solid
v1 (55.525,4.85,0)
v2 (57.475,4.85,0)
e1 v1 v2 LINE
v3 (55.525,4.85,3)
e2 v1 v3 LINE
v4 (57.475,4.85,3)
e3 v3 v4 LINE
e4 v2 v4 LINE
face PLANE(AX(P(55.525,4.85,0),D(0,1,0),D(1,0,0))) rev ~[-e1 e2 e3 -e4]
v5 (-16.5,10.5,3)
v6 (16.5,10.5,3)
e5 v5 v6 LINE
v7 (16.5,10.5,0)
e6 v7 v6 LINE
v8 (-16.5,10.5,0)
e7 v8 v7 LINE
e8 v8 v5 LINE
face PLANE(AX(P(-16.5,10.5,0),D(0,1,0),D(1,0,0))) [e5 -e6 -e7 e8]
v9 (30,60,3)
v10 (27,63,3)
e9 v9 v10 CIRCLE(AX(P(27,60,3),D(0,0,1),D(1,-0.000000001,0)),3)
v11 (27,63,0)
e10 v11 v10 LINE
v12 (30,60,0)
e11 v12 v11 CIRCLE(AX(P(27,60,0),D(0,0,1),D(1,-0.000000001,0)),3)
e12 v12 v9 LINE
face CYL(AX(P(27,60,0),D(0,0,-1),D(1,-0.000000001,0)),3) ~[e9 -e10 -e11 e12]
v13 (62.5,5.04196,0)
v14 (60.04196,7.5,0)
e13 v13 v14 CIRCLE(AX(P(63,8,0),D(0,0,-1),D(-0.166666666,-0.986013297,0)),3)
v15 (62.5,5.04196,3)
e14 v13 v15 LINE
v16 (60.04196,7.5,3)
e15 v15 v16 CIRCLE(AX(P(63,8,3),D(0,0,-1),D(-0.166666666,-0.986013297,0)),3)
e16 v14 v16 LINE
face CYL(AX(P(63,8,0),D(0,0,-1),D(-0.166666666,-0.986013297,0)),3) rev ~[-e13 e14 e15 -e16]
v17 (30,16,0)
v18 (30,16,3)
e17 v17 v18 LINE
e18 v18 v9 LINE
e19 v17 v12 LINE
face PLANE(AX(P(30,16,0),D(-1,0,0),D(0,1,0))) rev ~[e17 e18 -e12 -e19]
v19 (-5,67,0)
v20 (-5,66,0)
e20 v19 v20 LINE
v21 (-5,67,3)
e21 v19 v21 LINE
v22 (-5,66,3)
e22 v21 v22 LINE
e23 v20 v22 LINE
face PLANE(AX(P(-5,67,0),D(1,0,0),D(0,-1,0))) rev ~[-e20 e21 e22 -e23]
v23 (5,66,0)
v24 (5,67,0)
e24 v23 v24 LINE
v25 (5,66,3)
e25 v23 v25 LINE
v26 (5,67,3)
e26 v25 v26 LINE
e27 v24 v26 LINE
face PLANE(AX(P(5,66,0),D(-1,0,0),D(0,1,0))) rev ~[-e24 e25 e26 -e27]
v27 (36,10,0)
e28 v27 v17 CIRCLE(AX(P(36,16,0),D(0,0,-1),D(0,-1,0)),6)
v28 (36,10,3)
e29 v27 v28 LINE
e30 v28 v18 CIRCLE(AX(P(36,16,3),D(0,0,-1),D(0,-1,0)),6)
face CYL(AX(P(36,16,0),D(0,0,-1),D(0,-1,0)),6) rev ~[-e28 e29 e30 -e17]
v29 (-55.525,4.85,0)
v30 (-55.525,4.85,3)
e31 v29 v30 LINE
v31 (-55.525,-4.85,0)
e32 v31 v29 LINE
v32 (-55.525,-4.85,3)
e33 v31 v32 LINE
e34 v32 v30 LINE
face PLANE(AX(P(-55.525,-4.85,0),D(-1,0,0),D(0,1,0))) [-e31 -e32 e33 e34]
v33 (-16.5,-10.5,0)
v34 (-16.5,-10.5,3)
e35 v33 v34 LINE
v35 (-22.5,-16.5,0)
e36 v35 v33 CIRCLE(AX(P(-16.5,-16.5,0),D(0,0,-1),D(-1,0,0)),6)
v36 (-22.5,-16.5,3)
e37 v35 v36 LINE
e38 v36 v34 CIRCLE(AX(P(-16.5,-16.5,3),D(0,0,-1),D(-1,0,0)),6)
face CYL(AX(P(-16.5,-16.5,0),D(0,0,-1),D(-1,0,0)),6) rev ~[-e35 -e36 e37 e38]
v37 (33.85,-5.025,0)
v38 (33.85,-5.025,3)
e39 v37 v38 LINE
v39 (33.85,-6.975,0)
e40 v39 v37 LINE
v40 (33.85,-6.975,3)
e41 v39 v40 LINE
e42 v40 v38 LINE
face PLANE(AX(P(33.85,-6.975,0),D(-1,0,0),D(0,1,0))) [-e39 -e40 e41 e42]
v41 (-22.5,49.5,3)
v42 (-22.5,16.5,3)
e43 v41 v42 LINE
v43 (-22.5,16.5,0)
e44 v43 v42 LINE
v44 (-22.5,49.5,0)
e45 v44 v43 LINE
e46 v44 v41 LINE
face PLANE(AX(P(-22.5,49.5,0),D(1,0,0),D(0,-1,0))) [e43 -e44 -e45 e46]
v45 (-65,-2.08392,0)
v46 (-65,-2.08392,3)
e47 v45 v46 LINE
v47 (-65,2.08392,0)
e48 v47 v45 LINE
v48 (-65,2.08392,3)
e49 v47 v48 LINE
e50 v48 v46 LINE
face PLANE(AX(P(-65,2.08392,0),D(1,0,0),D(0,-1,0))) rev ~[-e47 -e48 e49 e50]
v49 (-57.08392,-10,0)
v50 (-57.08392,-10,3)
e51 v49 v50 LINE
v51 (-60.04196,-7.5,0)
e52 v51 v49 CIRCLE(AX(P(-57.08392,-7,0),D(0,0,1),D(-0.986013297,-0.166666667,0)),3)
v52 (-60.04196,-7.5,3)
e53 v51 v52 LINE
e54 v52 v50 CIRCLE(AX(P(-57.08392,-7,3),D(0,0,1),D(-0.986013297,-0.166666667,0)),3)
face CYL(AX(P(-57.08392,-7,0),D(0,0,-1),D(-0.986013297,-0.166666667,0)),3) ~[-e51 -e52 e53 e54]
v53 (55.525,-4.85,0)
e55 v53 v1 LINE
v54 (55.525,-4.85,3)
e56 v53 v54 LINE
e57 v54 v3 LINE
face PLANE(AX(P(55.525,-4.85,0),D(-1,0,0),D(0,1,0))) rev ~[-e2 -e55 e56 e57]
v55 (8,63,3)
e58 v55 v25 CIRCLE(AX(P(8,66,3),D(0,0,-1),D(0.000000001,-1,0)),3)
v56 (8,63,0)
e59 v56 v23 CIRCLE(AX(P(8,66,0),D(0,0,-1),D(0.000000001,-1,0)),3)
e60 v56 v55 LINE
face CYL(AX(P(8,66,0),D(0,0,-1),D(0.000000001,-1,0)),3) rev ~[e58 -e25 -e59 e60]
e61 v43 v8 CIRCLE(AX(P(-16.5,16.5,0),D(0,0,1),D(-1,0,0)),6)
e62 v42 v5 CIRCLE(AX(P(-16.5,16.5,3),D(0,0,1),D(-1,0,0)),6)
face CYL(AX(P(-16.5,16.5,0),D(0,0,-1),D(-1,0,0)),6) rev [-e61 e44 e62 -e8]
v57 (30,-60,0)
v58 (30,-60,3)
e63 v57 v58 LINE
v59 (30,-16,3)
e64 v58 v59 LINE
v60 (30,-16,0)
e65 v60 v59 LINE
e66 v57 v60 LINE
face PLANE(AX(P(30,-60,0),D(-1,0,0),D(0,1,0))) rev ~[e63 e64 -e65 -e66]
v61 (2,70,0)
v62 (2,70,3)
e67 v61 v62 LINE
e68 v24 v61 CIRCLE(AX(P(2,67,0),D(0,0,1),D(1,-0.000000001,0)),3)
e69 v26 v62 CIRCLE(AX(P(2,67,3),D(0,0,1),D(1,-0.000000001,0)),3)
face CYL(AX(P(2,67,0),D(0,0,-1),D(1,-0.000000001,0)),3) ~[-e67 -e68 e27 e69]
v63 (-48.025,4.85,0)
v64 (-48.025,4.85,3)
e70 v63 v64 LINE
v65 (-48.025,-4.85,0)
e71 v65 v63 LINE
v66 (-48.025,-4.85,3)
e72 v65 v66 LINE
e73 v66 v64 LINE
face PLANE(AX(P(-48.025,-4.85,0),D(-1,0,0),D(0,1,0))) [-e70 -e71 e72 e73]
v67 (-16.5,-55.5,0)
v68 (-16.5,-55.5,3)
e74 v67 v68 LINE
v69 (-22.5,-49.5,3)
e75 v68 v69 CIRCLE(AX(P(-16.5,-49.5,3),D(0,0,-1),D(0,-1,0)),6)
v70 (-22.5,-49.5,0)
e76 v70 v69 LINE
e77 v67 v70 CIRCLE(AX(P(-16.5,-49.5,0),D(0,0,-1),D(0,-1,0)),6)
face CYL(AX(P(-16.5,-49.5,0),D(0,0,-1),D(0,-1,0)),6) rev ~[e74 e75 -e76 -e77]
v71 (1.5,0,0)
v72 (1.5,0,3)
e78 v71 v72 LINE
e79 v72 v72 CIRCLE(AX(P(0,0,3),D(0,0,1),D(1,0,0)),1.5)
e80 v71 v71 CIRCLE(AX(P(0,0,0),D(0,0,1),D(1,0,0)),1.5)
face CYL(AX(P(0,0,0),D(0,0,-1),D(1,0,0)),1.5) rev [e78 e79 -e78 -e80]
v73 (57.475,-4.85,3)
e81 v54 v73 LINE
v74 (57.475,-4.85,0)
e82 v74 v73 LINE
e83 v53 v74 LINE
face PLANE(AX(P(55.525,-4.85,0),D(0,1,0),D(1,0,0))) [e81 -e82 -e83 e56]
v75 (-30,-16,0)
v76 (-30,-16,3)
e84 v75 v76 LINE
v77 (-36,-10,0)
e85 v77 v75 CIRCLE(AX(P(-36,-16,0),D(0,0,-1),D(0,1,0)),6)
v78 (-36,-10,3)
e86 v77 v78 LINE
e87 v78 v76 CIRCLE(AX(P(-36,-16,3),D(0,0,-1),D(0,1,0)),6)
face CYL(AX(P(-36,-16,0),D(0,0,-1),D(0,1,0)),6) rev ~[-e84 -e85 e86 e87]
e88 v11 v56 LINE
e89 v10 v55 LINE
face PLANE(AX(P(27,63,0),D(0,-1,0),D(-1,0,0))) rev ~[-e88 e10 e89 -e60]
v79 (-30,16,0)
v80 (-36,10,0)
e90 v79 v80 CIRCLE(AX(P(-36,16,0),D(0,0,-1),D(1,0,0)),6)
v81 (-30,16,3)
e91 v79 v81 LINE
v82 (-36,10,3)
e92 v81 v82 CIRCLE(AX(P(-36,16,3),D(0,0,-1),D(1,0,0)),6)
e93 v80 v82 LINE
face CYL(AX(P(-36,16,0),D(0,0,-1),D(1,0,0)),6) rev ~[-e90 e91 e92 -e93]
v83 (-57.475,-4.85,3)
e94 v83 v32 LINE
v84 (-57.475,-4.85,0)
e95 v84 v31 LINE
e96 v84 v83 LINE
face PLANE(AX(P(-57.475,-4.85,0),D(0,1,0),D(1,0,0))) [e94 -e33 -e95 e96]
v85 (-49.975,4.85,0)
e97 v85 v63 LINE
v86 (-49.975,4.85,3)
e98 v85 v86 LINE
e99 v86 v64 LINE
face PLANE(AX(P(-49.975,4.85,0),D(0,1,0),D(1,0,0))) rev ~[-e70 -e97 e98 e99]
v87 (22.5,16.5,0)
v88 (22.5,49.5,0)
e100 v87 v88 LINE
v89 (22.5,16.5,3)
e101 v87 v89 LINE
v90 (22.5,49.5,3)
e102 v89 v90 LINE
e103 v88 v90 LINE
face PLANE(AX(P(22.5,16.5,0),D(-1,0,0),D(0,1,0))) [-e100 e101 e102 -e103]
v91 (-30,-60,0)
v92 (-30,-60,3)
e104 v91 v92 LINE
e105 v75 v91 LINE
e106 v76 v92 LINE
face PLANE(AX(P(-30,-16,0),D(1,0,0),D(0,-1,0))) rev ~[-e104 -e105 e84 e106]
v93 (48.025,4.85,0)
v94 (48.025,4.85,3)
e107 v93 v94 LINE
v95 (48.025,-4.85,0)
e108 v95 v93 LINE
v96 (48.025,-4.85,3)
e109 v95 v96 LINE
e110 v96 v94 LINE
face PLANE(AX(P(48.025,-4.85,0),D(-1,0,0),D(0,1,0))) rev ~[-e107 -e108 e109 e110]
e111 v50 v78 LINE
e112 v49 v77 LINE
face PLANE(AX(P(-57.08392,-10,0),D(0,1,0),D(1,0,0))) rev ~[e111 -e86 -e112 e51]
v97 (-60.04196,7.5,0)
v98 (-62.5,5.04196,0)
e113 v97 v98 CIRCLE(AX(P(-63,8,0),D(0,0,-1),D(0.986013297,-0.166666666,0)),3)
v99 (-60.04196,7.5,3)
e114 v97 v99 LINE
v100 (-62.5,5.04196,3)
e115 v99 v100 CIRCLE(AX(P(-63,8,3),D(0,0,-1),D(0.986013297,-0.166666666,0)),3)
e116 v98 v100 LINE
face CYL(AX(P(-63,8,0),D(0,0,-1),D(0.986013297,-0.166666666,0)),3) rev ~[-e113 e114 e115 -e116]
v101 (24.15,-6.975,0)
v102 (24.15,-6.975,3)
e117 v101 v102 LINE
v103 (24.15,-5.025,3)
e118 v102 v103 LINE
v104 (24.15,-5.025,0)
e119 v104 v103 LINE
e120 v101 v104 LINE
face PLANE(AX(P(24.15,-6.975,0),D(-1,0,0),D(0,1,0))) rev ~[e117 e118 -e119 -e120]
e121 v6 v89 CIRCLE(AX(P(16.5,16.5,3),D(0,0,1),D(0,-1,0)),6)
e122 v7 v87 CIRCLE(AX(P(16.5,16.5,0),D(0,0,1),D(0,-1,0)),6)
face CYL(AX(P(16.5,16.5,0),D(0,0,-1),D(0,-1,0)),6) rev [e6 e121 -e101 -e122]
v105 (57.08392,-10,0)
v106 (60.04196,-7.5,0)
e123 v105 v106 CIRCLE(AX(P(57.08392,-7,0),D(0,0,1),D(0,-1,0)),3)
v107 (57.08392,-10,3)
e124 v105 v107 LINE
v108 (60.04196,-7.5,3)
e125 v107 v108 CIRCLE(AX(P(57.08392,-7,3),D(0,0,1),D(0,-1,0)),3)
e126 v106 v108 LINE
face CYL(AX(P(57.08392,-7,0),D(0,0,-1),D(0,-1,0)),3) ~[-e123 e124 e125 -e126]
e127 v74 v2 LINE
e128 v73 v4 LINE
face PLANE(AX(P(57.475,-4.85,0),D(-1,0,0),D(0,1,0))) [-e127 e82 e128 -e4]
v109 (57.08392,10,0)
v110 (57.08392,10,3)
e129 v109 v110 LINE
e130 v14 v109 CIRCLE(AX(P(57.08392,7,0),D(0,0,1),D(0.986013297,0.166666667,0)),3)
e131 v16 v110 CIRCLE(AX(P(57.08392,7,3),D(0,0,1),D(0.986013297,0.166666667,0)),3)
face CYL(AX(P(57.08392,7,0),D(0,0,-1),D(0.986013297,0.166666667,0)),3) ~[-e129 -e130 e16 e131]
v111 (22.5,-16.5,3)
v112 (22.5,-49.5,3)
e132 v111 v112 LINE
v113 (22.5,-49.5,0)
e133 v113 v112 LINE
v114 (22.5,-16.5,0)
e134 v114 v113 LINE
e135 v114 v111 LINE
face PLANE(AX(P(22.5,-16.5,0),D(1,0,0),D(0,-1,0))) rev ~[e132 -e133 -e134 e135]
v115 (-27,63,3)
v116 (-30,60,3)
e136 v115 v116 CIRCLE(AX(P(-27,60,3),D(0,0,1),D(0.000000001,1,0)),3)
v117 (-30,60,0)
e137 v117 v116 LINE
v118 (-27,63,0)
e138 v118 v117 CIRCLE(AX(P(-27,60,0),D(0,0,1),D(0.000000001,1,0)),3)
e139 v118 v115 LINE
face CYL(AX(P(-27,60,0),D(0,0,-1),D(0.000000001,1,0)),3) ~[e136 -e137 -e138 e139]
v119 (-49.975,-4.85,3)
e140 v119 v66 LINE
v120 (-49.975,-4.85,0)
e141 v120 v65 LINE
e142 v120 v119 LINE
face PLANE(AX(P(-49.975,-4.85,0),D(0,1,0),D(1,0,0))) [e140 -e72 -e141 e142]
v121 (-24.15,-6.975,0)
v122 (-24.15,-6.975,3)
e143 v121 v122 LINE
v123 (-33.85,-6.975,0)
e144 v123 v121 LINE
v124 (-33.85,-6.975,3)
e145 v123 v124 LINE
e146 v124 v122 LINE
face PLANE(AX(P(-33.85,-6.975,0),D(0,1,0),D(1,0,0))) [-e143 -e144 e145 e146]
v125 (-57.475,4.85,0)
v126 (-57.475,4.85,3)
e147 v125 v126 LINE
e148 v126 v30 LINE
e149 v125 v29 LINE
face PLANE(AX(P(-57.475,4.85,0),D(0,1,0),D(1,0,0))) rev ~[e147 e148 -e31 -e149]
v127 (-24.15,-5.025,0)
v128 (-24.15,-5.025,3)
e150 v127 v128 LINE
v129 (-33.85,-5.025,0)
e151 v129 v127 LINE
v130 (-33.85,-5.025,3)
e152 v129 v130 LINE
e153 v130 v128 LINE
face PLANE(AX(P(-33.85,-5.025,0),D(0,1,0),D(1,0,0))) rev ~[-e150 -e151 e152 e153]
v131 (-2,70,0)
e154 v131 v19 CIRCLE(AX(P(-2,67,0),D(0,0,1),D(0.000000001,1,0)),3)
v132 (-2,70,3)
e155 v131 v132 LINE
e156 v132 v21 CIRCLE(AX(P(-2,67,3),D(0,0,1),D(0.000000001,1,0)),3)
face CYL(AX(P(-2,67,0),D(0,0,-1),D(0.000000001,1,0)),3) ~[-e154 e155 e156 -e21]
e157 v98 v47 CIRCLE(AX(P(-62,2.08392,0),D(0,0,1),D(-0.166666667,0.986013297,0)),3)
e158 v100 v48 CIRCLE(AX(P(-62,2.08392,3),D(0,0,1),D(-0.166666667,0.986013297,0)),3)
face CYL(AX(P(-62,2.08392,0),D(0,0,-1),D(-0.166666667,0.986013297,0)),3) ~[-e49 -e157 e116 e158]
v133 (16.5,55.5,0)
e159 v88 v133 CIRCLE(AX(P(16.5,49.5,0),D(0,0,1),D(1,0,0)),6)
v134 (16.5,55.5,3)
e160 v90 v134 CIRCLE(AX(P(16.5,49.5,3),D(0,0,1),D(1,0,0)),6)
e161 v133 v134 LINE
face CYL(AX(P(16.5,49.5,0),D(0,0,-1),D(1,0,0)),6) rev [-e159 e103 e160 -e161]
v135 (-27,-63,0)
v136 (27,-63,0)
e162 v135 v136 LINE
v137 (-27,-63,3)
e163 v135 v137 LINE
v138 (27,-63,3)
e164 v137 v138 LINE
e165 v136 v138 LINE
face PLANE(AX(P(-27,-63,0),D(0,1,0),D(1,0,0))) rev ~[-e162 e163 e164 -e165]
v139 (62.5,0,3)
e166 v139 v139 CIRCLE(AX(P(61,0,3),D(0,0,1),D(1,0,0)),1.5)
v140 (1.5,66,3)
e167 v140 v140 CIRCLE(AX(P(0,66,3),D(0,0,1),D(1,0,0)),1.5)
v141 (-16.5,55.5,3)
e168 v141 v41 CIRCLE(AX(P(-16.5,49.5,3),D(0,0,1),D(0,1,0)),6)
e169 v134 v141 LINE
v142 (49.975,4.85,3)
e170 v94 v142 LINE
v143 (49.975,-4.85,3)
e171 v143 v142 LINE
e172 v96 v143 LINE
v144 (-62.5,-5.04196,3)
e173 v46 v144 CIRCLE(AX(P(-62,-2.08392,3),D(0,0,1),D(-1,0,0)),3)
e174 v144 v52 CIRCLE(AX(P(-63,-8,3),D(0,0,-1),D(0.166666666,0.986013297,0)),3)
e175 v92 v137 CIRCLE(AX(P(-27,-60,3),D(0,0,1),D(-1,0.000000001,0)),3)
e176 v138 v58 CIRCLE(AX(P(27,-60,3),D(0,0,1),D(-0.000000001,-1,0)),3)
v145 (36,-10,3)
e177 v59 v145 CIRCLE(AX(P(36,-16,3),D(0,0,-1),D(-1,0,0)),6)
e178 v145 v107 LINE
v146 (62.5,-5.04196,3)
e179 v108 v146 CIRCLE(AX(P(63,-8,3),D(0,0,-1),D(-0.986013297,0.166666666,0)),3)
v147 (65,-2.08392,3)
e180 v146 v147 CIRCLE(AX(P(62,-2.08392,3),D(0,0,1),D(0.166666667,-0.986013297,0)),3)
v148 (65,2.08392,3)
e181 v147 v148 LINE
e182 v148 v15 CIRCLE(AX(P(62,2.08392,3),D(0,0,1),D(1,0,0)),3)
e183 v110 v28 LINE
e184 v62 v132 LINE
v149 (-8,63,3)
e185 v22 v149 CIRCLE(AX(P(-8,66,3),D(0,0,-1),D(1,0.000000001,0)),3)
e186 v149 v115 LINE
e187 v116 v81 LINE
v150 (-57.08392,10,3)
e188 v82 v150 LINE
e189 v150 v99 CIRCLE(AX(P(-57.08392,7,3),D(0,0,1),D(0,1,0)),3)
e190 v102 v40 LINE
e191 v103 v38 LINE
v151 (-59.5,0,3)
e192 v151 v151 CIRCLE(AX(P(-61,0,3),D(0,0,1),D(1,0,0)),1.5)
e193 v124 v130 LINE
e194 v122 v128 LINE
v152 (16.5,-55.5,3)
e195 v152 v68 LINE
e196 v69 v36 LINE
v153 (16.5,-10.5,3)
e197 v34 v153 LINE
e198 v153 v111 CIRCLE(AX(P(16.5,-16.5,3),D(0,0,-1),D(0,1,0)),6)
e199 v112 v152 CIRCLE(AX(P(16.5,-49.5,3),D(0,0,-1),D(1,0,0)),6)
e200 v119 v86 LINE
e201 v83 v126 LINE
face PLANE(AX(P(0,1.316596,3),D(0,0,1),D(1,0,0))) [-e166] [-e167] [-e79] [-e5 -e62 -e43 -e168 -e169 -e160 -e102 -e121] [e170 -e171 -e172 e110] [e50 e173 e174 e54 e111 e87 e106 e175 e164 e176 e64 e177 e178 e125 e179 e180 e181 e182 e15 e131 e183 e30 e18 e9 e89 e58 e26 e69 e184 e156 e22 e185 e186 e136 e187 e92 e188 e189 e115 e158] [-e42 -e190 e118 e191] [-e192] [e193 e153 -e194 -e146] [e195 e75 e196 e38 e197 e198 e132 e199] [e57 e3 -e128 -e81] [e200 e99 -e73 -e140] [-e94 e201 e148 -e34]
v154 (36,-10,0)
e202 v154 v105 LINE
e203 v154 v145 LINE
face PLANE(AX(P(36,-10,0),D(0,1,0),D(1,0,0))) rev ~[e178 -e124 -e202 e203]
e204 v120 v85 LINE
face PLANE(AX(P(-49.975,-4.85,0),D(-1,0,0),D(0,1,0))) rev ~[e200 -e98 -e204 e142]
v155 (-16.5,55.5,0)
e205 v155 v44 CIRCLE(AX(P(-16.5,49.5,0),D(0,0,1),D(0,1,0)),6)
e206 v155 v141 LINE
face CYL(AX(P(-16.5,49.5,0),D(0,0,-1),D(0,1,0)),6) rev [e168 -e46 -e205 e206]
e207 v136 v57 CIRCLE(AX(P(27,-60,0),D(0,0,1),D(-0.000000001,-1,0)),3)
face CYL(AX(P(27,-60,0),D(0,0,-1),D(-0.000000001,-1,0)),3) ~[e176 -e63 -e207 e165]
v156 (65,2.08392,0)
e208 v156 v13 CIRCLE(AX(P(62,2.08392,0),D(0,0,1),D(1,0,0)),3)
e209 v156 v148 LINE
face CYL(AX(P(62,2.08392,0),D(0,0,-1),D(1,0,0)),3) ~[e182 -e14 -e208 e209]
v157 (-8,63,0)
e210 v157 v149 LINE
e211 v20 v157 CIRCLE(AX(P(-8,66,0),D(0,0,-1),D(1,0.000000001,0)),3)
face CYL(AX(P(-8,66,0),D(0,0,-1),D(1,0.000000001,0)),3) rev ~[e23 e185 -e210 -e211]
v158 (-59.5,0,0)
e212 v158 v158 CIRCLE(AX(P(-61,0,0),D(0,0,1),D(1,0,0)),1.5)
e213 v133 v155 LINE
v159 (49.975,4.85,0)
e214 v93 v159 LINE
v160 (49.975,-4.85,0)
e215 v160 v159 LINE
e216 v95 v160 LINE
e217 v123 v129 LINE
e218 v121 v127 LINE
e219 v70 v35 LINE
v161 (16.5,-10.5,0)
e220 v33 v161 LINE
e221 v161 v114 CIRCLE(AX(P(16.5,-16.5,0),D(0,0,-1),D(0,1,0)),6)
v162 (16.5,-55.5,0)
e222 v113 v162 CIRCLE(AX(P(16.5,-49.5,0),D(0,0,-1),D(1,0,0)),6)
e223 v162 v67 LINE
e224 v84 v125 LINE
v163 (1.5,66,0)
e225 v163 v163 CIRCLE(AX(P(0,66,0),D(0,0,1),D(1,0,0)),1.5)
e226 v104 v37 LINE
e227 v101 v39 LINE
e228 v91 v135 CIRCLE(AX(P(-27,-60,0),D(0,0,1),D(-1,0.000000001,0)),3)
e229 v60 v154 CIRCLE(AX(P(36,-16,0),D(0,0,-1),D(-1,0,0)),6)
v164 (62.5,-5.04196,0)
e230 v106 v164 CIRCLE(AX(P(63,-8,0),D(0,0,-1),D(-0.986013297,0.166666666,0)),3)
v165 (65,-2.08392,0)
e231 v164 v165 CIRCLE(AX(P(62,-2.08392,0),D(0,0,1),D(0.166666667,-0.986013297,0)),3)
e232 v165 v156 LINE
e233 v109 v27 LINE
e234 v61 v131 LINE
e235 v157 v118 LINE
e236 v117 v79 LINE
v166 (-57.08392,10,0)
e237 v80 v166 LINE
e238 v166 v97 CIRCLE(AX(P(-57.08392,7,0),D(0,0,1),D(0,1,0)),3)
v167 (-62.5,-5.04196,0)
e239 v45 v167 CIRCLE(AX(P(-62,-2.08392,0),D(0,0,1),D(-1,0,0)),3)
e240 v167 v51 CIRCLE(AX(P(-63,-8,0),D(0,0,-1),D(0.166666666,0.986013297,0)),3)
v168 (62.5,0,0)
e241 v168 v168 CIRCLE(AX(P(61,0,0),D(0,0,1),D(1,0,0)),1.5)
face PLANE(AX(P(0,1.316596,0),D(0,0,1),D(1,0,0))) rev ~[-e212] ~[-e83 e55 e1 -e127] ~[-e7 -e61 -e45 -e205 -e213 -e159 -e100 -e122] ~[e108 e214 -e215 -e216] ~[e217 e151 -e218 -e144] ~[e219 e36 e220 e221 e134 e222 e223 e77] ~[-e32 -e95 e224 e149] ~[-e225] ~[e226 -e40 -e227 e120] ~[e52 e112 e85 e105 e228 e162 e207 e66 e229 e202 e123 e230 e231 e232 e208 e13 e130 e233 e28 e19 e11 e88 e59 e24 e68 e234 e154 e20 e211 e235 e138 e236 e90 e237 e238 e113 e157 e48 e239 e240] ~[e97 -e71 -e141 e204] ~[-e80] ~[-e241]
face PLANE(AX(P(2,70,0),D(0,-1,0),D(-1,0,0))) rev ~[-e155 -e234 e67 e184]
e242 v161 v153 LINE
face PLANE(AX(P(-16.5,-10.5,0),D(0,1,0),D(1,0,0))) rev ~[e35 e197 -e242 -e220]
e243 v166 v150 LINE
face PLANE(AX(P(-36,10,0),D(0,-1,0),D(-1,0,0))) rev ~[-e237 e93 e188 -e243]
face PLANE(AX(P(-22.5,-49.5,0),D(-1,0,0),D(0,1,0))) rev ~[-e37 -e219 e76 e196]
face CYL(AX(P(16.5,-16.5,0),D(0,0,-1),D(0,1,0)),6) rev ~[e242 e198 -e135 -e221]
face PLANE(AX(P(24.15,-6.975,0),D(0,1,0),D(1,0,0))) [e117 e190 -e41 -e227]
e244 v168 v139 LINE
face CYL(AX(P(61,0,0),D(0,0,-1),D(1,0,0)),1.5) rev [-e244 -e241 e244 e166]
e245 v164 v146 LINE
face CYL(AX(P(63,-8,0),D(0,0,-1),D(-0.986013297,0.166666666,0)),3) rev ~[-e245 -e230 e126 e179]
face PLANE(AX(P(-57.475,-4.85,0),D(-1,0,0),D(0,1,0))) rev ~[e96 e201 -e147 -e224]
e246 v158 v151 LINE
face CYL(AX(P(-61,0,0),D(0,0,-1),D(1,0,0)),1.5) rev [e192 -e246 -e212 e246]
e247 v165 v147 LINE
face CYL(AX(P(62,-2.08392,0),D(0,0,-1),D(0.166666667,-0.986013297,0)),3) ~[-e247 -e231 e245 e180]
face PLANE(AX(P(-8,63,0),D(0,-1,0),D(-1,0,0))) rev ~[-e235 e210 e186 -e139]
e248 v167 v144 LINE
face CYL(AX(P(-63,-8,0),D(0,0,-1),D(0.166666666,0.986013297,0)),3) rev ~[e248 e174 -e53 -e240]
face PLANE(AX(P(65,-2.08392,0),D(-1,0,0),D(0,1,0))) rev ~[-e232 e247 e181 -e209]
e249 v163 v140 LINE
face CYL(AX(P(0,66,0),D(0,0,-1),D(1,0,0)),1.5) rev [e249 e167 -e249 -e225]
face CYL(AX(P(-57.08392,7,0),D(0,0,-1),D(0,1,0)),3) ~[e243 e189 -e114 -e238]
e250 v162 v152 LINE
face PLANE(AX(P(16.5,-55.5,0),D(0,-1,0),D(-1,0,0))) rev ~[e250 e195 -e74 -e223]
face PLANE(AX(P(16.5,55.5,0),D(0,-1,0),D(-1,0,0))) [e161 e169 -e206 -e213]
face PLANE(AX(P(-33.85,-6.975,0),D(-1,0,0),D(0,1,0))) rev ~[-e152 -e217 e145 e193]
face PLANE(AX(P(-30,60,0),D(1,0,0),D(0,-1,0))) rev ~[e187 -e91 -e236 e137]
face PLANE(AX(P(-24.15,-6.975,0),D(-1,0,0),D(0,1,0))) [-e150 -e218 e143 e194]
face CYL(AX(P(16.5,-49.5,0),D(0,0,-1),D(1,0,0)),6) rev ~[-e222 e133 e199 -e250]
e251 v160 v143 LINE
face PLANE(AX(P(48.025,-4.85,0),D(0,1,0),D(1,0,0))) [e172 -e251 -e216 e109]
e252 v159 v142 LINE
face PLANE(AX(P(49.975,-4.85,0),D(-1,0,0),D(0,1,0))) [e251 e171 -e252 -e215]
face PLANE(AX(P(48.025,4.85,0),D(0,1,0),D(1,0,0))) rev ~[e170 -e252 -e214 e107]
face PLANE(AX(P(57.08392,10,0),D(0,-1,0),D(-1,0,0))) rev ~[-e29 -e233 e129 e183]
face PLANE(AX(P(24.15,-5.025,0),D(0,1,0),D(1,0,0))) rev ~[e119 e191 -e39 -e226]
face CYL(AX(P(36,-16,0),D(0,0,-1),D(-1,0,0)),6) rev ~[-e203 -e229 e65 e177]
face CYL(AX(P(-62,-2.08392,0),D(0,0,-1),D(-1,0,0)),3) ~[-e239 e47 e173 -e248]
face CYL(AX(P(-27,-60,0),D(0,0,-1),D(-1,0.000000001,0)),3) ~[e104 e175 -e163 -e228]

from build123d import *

# Parameters (mm, degrees)
MODEL_R         = 1.5
MODEL_W         = 9.700000003
MODEL_H         = 1.95
MODEL_W_2       = 1.95
MODEL_H_2       = 9.700000003
MODEL_H_3       = 9.7
EXTRUDE_1_DEPTH = 3


with BuildPart() as part:
    # Model → Бобышка-Вытянуть1 (new body)
    with BuildSketch(Plane.XY):
        with BuildLine():
            Line((36, -10), (57.083920217, -10))
            ThreePointArc((57.083920217, -10), (59.02041189, -9.291287847), (60.041960108, -7.5))
            ThreePointArc((60.041960108, -7.5), (60.878679656, -5.878679656), (62.5, -5.041960108))
            ThreePointArc((62.5, -5.041960108), (64.291287847, -4.02041189), (65, -2.083920217))
            Line((65, -2.083920217), (65, 2.083920217))
            ThreePointArc((65, 2.083920217), (64.291287847, 4.02041189), (62.5, 5.041960108))
            ThreePointArc((62.5, 5.041960108), (60.878679656, 5.878679656), (60.041960108, 7.5))
            ThreePointArc((60.041960108, 7.5), (59.02041189, 9.291287847), (57.083920217, 10))
            Line((57.083920217, 10), (36, 10))
            ThreePointArc((36, 10), (31.757359313, 11.757359313), (30, 16))
            Line((30, 16), (30, 60))
            ThreePointArc((30, 60), (29.121320344, 62.121320344), (27, 63))
            Line((27, 63), (8, 63))
            ThreePointArc((8, 63), (5.878679656, 63.878679656), (5, 66))
            Line((5, 66), (5, 67))
            ThreePointArc((5, 67), (4.121320344, 69.121320344), (2, 70))
            Line((2, 70), (-2, 70))
            ThreePointArc((-2, 70), (-4.121320344, 69.121320344), (-5, 67))
            Line((-5, 67), (-5, 66))
            ThreePointArc((-5, 66), (-5.878679656, 63.878679656), (-8, 63))
            Line((-8, 63), (-27, 63))
            ThreePointArc((-27, 63), (-29.121320344, 62.121320344), (-30, 60))
            Line((-30, 60), (-30, 16))
            ThreePointArc((-30, 16), (-31.757359313, 11.757359313), (-36, 10))
            Line((-36, 10), (-57.083920217, 10))
            ThreePointArc((-57.083920217, 10), (-59.02041189, 9.291287847), (-60.041960108, 7.5))
            ThreePointArc((-60.041960108, 7.5), (-60.878679656, 5.878679656), (-62.5, 5.041960108))
            ThreePointArc((-62.5, 5.041960108), (-64.291287847, 4.02041189), (-65, 2.083920217))
            Line((-65, 2.083920217), (-65, -2.083920217))
            ThreePointArc((-65, -2.083920217), (-64.291287847, -4.02041189), (-62.5, -5.041960108))
            ThreePointArc((-62.5, -5.041960108), (-60.878679656, -5.878679656), (-60.041960108, -7.5))
            ThreePointArc((-60.041960108, -7.5), (-59.02041189, -9.291287847), (-57.083920217, -10))
            Line((-57.083920217, -10), (-36, -10))
            ThreePointArc((-36, -10), (-31.757359313, -11.757359313), (-30, -16))
            Line((-30, -16), (-30, -60))
            ThreePointArc((-30, -60), (-29.121320344, -62.121320344), (-27, -63))
            Line((-27, -63), (8, -63))
            Line((8, -63), (27, -63))
            ThreePointArc((27, -63), (29.121320344, -62.121320344), (30, -60))
            Line((30, -60), (30, -16))
            ThreePointArc((30, -16), (31.757359313, -11.757359313), (36, -10))
        make_face()
        Circle(MODEL_R, mode=Mode.SUBTRACT)
        with Locations((0, 66)):
            Circle(MODEL_R, mode=Mode.SUBTRACT)
        with Locations((61, 0)):
            Circle(MODEL_R, mode=Mode.SUBTRACT)
        with Locations((-61, 0)):
            Circle(MODEL_R, mode=Mode.SUBTRACT)
        with Locations((-29.000000002, -6)):
            Rectangle(MODEL_W, MODEL_H, mode=Mode.SUBTRACT)
        with Locations((28.999999999, -6)):
            Rectangle(MODEL_W, MODEL_H, mode=Mode.SUBTRACT)
        with Locations((49, -1e-09)):
            Rectangle(MODEL_W_2, MODEL_H_2, mode=Mode.SUBTRACT)
        with Locations((-49, 0)):
            Rectangle(MODEL_W_2, MODEL_H_3, mode=Mode.SUBTRACT)
        with Locations((-56.5, 0)):
            Rectangle(MODEL_W_2, MODEL_H_3, mode=Mode.SUBTRACT)
        with Locations((56.5, 0)):
            Rectangle(MODEL_W_2, MODEL_H_3, mode=Mode.SUBTRACT)
        with BuildLine():
            Line((-16.5, 10.5), (16.5, 10.5))
            ThreePointArc((16.5, 10.5), (20.742640687, 12.257359313), (22.5, 16.5))
            Line((22.5, 16.5), (22.5, 49.5))
            ThreePointArc((22.5, 49.5), (20.742640687, 53.742640687), (16.5, 55.5))
            Line((16.5, 55.5), (-16.5, 55.5))
            ThreePointArc((-16.5, 55.5), (-20.742640687, 53.742640687), (-22.5, 49.5))
            Line((-22.5, 49.5), (-22.5, 16.5))
            ThreePointArc((-22.5, 16.5), (-20.742640687, 12.257359313), (-16.5, 10.5))
        make_face(mode=Mode.SUBTRACT)
        with BuildLine():
            Line((-16.5, -10.5), (16.5, -10.5))
            ThreePointArc((16.5, -10.5), (20.742640687, -12.257359313), (22.5, -16.5))
            Line((22.5, -16.5), (22.5, -49.5))
            ThreePointArc((22.5, -49.5), (20.742640687, -53.742640687), (16.5, -55.5))
            Line((16.5, -55.5), (-16.5, -55.5))
            ThreePointArc((-16.5, -55.5), (-20.742640687, -53.742640687), (-22.5, -49.5))
            Line((-22.5, -49.5), (-22.5, -16.5))
            ThreePointArc((-22.5, -16.5), (-20.742640687, -12.257359313), (-16.5, -10.5))
        make_face(mode=Mode.SUBTRACT)
    extrude(amount=EXTRUDE_1_DEPTH)


solid = part.part
